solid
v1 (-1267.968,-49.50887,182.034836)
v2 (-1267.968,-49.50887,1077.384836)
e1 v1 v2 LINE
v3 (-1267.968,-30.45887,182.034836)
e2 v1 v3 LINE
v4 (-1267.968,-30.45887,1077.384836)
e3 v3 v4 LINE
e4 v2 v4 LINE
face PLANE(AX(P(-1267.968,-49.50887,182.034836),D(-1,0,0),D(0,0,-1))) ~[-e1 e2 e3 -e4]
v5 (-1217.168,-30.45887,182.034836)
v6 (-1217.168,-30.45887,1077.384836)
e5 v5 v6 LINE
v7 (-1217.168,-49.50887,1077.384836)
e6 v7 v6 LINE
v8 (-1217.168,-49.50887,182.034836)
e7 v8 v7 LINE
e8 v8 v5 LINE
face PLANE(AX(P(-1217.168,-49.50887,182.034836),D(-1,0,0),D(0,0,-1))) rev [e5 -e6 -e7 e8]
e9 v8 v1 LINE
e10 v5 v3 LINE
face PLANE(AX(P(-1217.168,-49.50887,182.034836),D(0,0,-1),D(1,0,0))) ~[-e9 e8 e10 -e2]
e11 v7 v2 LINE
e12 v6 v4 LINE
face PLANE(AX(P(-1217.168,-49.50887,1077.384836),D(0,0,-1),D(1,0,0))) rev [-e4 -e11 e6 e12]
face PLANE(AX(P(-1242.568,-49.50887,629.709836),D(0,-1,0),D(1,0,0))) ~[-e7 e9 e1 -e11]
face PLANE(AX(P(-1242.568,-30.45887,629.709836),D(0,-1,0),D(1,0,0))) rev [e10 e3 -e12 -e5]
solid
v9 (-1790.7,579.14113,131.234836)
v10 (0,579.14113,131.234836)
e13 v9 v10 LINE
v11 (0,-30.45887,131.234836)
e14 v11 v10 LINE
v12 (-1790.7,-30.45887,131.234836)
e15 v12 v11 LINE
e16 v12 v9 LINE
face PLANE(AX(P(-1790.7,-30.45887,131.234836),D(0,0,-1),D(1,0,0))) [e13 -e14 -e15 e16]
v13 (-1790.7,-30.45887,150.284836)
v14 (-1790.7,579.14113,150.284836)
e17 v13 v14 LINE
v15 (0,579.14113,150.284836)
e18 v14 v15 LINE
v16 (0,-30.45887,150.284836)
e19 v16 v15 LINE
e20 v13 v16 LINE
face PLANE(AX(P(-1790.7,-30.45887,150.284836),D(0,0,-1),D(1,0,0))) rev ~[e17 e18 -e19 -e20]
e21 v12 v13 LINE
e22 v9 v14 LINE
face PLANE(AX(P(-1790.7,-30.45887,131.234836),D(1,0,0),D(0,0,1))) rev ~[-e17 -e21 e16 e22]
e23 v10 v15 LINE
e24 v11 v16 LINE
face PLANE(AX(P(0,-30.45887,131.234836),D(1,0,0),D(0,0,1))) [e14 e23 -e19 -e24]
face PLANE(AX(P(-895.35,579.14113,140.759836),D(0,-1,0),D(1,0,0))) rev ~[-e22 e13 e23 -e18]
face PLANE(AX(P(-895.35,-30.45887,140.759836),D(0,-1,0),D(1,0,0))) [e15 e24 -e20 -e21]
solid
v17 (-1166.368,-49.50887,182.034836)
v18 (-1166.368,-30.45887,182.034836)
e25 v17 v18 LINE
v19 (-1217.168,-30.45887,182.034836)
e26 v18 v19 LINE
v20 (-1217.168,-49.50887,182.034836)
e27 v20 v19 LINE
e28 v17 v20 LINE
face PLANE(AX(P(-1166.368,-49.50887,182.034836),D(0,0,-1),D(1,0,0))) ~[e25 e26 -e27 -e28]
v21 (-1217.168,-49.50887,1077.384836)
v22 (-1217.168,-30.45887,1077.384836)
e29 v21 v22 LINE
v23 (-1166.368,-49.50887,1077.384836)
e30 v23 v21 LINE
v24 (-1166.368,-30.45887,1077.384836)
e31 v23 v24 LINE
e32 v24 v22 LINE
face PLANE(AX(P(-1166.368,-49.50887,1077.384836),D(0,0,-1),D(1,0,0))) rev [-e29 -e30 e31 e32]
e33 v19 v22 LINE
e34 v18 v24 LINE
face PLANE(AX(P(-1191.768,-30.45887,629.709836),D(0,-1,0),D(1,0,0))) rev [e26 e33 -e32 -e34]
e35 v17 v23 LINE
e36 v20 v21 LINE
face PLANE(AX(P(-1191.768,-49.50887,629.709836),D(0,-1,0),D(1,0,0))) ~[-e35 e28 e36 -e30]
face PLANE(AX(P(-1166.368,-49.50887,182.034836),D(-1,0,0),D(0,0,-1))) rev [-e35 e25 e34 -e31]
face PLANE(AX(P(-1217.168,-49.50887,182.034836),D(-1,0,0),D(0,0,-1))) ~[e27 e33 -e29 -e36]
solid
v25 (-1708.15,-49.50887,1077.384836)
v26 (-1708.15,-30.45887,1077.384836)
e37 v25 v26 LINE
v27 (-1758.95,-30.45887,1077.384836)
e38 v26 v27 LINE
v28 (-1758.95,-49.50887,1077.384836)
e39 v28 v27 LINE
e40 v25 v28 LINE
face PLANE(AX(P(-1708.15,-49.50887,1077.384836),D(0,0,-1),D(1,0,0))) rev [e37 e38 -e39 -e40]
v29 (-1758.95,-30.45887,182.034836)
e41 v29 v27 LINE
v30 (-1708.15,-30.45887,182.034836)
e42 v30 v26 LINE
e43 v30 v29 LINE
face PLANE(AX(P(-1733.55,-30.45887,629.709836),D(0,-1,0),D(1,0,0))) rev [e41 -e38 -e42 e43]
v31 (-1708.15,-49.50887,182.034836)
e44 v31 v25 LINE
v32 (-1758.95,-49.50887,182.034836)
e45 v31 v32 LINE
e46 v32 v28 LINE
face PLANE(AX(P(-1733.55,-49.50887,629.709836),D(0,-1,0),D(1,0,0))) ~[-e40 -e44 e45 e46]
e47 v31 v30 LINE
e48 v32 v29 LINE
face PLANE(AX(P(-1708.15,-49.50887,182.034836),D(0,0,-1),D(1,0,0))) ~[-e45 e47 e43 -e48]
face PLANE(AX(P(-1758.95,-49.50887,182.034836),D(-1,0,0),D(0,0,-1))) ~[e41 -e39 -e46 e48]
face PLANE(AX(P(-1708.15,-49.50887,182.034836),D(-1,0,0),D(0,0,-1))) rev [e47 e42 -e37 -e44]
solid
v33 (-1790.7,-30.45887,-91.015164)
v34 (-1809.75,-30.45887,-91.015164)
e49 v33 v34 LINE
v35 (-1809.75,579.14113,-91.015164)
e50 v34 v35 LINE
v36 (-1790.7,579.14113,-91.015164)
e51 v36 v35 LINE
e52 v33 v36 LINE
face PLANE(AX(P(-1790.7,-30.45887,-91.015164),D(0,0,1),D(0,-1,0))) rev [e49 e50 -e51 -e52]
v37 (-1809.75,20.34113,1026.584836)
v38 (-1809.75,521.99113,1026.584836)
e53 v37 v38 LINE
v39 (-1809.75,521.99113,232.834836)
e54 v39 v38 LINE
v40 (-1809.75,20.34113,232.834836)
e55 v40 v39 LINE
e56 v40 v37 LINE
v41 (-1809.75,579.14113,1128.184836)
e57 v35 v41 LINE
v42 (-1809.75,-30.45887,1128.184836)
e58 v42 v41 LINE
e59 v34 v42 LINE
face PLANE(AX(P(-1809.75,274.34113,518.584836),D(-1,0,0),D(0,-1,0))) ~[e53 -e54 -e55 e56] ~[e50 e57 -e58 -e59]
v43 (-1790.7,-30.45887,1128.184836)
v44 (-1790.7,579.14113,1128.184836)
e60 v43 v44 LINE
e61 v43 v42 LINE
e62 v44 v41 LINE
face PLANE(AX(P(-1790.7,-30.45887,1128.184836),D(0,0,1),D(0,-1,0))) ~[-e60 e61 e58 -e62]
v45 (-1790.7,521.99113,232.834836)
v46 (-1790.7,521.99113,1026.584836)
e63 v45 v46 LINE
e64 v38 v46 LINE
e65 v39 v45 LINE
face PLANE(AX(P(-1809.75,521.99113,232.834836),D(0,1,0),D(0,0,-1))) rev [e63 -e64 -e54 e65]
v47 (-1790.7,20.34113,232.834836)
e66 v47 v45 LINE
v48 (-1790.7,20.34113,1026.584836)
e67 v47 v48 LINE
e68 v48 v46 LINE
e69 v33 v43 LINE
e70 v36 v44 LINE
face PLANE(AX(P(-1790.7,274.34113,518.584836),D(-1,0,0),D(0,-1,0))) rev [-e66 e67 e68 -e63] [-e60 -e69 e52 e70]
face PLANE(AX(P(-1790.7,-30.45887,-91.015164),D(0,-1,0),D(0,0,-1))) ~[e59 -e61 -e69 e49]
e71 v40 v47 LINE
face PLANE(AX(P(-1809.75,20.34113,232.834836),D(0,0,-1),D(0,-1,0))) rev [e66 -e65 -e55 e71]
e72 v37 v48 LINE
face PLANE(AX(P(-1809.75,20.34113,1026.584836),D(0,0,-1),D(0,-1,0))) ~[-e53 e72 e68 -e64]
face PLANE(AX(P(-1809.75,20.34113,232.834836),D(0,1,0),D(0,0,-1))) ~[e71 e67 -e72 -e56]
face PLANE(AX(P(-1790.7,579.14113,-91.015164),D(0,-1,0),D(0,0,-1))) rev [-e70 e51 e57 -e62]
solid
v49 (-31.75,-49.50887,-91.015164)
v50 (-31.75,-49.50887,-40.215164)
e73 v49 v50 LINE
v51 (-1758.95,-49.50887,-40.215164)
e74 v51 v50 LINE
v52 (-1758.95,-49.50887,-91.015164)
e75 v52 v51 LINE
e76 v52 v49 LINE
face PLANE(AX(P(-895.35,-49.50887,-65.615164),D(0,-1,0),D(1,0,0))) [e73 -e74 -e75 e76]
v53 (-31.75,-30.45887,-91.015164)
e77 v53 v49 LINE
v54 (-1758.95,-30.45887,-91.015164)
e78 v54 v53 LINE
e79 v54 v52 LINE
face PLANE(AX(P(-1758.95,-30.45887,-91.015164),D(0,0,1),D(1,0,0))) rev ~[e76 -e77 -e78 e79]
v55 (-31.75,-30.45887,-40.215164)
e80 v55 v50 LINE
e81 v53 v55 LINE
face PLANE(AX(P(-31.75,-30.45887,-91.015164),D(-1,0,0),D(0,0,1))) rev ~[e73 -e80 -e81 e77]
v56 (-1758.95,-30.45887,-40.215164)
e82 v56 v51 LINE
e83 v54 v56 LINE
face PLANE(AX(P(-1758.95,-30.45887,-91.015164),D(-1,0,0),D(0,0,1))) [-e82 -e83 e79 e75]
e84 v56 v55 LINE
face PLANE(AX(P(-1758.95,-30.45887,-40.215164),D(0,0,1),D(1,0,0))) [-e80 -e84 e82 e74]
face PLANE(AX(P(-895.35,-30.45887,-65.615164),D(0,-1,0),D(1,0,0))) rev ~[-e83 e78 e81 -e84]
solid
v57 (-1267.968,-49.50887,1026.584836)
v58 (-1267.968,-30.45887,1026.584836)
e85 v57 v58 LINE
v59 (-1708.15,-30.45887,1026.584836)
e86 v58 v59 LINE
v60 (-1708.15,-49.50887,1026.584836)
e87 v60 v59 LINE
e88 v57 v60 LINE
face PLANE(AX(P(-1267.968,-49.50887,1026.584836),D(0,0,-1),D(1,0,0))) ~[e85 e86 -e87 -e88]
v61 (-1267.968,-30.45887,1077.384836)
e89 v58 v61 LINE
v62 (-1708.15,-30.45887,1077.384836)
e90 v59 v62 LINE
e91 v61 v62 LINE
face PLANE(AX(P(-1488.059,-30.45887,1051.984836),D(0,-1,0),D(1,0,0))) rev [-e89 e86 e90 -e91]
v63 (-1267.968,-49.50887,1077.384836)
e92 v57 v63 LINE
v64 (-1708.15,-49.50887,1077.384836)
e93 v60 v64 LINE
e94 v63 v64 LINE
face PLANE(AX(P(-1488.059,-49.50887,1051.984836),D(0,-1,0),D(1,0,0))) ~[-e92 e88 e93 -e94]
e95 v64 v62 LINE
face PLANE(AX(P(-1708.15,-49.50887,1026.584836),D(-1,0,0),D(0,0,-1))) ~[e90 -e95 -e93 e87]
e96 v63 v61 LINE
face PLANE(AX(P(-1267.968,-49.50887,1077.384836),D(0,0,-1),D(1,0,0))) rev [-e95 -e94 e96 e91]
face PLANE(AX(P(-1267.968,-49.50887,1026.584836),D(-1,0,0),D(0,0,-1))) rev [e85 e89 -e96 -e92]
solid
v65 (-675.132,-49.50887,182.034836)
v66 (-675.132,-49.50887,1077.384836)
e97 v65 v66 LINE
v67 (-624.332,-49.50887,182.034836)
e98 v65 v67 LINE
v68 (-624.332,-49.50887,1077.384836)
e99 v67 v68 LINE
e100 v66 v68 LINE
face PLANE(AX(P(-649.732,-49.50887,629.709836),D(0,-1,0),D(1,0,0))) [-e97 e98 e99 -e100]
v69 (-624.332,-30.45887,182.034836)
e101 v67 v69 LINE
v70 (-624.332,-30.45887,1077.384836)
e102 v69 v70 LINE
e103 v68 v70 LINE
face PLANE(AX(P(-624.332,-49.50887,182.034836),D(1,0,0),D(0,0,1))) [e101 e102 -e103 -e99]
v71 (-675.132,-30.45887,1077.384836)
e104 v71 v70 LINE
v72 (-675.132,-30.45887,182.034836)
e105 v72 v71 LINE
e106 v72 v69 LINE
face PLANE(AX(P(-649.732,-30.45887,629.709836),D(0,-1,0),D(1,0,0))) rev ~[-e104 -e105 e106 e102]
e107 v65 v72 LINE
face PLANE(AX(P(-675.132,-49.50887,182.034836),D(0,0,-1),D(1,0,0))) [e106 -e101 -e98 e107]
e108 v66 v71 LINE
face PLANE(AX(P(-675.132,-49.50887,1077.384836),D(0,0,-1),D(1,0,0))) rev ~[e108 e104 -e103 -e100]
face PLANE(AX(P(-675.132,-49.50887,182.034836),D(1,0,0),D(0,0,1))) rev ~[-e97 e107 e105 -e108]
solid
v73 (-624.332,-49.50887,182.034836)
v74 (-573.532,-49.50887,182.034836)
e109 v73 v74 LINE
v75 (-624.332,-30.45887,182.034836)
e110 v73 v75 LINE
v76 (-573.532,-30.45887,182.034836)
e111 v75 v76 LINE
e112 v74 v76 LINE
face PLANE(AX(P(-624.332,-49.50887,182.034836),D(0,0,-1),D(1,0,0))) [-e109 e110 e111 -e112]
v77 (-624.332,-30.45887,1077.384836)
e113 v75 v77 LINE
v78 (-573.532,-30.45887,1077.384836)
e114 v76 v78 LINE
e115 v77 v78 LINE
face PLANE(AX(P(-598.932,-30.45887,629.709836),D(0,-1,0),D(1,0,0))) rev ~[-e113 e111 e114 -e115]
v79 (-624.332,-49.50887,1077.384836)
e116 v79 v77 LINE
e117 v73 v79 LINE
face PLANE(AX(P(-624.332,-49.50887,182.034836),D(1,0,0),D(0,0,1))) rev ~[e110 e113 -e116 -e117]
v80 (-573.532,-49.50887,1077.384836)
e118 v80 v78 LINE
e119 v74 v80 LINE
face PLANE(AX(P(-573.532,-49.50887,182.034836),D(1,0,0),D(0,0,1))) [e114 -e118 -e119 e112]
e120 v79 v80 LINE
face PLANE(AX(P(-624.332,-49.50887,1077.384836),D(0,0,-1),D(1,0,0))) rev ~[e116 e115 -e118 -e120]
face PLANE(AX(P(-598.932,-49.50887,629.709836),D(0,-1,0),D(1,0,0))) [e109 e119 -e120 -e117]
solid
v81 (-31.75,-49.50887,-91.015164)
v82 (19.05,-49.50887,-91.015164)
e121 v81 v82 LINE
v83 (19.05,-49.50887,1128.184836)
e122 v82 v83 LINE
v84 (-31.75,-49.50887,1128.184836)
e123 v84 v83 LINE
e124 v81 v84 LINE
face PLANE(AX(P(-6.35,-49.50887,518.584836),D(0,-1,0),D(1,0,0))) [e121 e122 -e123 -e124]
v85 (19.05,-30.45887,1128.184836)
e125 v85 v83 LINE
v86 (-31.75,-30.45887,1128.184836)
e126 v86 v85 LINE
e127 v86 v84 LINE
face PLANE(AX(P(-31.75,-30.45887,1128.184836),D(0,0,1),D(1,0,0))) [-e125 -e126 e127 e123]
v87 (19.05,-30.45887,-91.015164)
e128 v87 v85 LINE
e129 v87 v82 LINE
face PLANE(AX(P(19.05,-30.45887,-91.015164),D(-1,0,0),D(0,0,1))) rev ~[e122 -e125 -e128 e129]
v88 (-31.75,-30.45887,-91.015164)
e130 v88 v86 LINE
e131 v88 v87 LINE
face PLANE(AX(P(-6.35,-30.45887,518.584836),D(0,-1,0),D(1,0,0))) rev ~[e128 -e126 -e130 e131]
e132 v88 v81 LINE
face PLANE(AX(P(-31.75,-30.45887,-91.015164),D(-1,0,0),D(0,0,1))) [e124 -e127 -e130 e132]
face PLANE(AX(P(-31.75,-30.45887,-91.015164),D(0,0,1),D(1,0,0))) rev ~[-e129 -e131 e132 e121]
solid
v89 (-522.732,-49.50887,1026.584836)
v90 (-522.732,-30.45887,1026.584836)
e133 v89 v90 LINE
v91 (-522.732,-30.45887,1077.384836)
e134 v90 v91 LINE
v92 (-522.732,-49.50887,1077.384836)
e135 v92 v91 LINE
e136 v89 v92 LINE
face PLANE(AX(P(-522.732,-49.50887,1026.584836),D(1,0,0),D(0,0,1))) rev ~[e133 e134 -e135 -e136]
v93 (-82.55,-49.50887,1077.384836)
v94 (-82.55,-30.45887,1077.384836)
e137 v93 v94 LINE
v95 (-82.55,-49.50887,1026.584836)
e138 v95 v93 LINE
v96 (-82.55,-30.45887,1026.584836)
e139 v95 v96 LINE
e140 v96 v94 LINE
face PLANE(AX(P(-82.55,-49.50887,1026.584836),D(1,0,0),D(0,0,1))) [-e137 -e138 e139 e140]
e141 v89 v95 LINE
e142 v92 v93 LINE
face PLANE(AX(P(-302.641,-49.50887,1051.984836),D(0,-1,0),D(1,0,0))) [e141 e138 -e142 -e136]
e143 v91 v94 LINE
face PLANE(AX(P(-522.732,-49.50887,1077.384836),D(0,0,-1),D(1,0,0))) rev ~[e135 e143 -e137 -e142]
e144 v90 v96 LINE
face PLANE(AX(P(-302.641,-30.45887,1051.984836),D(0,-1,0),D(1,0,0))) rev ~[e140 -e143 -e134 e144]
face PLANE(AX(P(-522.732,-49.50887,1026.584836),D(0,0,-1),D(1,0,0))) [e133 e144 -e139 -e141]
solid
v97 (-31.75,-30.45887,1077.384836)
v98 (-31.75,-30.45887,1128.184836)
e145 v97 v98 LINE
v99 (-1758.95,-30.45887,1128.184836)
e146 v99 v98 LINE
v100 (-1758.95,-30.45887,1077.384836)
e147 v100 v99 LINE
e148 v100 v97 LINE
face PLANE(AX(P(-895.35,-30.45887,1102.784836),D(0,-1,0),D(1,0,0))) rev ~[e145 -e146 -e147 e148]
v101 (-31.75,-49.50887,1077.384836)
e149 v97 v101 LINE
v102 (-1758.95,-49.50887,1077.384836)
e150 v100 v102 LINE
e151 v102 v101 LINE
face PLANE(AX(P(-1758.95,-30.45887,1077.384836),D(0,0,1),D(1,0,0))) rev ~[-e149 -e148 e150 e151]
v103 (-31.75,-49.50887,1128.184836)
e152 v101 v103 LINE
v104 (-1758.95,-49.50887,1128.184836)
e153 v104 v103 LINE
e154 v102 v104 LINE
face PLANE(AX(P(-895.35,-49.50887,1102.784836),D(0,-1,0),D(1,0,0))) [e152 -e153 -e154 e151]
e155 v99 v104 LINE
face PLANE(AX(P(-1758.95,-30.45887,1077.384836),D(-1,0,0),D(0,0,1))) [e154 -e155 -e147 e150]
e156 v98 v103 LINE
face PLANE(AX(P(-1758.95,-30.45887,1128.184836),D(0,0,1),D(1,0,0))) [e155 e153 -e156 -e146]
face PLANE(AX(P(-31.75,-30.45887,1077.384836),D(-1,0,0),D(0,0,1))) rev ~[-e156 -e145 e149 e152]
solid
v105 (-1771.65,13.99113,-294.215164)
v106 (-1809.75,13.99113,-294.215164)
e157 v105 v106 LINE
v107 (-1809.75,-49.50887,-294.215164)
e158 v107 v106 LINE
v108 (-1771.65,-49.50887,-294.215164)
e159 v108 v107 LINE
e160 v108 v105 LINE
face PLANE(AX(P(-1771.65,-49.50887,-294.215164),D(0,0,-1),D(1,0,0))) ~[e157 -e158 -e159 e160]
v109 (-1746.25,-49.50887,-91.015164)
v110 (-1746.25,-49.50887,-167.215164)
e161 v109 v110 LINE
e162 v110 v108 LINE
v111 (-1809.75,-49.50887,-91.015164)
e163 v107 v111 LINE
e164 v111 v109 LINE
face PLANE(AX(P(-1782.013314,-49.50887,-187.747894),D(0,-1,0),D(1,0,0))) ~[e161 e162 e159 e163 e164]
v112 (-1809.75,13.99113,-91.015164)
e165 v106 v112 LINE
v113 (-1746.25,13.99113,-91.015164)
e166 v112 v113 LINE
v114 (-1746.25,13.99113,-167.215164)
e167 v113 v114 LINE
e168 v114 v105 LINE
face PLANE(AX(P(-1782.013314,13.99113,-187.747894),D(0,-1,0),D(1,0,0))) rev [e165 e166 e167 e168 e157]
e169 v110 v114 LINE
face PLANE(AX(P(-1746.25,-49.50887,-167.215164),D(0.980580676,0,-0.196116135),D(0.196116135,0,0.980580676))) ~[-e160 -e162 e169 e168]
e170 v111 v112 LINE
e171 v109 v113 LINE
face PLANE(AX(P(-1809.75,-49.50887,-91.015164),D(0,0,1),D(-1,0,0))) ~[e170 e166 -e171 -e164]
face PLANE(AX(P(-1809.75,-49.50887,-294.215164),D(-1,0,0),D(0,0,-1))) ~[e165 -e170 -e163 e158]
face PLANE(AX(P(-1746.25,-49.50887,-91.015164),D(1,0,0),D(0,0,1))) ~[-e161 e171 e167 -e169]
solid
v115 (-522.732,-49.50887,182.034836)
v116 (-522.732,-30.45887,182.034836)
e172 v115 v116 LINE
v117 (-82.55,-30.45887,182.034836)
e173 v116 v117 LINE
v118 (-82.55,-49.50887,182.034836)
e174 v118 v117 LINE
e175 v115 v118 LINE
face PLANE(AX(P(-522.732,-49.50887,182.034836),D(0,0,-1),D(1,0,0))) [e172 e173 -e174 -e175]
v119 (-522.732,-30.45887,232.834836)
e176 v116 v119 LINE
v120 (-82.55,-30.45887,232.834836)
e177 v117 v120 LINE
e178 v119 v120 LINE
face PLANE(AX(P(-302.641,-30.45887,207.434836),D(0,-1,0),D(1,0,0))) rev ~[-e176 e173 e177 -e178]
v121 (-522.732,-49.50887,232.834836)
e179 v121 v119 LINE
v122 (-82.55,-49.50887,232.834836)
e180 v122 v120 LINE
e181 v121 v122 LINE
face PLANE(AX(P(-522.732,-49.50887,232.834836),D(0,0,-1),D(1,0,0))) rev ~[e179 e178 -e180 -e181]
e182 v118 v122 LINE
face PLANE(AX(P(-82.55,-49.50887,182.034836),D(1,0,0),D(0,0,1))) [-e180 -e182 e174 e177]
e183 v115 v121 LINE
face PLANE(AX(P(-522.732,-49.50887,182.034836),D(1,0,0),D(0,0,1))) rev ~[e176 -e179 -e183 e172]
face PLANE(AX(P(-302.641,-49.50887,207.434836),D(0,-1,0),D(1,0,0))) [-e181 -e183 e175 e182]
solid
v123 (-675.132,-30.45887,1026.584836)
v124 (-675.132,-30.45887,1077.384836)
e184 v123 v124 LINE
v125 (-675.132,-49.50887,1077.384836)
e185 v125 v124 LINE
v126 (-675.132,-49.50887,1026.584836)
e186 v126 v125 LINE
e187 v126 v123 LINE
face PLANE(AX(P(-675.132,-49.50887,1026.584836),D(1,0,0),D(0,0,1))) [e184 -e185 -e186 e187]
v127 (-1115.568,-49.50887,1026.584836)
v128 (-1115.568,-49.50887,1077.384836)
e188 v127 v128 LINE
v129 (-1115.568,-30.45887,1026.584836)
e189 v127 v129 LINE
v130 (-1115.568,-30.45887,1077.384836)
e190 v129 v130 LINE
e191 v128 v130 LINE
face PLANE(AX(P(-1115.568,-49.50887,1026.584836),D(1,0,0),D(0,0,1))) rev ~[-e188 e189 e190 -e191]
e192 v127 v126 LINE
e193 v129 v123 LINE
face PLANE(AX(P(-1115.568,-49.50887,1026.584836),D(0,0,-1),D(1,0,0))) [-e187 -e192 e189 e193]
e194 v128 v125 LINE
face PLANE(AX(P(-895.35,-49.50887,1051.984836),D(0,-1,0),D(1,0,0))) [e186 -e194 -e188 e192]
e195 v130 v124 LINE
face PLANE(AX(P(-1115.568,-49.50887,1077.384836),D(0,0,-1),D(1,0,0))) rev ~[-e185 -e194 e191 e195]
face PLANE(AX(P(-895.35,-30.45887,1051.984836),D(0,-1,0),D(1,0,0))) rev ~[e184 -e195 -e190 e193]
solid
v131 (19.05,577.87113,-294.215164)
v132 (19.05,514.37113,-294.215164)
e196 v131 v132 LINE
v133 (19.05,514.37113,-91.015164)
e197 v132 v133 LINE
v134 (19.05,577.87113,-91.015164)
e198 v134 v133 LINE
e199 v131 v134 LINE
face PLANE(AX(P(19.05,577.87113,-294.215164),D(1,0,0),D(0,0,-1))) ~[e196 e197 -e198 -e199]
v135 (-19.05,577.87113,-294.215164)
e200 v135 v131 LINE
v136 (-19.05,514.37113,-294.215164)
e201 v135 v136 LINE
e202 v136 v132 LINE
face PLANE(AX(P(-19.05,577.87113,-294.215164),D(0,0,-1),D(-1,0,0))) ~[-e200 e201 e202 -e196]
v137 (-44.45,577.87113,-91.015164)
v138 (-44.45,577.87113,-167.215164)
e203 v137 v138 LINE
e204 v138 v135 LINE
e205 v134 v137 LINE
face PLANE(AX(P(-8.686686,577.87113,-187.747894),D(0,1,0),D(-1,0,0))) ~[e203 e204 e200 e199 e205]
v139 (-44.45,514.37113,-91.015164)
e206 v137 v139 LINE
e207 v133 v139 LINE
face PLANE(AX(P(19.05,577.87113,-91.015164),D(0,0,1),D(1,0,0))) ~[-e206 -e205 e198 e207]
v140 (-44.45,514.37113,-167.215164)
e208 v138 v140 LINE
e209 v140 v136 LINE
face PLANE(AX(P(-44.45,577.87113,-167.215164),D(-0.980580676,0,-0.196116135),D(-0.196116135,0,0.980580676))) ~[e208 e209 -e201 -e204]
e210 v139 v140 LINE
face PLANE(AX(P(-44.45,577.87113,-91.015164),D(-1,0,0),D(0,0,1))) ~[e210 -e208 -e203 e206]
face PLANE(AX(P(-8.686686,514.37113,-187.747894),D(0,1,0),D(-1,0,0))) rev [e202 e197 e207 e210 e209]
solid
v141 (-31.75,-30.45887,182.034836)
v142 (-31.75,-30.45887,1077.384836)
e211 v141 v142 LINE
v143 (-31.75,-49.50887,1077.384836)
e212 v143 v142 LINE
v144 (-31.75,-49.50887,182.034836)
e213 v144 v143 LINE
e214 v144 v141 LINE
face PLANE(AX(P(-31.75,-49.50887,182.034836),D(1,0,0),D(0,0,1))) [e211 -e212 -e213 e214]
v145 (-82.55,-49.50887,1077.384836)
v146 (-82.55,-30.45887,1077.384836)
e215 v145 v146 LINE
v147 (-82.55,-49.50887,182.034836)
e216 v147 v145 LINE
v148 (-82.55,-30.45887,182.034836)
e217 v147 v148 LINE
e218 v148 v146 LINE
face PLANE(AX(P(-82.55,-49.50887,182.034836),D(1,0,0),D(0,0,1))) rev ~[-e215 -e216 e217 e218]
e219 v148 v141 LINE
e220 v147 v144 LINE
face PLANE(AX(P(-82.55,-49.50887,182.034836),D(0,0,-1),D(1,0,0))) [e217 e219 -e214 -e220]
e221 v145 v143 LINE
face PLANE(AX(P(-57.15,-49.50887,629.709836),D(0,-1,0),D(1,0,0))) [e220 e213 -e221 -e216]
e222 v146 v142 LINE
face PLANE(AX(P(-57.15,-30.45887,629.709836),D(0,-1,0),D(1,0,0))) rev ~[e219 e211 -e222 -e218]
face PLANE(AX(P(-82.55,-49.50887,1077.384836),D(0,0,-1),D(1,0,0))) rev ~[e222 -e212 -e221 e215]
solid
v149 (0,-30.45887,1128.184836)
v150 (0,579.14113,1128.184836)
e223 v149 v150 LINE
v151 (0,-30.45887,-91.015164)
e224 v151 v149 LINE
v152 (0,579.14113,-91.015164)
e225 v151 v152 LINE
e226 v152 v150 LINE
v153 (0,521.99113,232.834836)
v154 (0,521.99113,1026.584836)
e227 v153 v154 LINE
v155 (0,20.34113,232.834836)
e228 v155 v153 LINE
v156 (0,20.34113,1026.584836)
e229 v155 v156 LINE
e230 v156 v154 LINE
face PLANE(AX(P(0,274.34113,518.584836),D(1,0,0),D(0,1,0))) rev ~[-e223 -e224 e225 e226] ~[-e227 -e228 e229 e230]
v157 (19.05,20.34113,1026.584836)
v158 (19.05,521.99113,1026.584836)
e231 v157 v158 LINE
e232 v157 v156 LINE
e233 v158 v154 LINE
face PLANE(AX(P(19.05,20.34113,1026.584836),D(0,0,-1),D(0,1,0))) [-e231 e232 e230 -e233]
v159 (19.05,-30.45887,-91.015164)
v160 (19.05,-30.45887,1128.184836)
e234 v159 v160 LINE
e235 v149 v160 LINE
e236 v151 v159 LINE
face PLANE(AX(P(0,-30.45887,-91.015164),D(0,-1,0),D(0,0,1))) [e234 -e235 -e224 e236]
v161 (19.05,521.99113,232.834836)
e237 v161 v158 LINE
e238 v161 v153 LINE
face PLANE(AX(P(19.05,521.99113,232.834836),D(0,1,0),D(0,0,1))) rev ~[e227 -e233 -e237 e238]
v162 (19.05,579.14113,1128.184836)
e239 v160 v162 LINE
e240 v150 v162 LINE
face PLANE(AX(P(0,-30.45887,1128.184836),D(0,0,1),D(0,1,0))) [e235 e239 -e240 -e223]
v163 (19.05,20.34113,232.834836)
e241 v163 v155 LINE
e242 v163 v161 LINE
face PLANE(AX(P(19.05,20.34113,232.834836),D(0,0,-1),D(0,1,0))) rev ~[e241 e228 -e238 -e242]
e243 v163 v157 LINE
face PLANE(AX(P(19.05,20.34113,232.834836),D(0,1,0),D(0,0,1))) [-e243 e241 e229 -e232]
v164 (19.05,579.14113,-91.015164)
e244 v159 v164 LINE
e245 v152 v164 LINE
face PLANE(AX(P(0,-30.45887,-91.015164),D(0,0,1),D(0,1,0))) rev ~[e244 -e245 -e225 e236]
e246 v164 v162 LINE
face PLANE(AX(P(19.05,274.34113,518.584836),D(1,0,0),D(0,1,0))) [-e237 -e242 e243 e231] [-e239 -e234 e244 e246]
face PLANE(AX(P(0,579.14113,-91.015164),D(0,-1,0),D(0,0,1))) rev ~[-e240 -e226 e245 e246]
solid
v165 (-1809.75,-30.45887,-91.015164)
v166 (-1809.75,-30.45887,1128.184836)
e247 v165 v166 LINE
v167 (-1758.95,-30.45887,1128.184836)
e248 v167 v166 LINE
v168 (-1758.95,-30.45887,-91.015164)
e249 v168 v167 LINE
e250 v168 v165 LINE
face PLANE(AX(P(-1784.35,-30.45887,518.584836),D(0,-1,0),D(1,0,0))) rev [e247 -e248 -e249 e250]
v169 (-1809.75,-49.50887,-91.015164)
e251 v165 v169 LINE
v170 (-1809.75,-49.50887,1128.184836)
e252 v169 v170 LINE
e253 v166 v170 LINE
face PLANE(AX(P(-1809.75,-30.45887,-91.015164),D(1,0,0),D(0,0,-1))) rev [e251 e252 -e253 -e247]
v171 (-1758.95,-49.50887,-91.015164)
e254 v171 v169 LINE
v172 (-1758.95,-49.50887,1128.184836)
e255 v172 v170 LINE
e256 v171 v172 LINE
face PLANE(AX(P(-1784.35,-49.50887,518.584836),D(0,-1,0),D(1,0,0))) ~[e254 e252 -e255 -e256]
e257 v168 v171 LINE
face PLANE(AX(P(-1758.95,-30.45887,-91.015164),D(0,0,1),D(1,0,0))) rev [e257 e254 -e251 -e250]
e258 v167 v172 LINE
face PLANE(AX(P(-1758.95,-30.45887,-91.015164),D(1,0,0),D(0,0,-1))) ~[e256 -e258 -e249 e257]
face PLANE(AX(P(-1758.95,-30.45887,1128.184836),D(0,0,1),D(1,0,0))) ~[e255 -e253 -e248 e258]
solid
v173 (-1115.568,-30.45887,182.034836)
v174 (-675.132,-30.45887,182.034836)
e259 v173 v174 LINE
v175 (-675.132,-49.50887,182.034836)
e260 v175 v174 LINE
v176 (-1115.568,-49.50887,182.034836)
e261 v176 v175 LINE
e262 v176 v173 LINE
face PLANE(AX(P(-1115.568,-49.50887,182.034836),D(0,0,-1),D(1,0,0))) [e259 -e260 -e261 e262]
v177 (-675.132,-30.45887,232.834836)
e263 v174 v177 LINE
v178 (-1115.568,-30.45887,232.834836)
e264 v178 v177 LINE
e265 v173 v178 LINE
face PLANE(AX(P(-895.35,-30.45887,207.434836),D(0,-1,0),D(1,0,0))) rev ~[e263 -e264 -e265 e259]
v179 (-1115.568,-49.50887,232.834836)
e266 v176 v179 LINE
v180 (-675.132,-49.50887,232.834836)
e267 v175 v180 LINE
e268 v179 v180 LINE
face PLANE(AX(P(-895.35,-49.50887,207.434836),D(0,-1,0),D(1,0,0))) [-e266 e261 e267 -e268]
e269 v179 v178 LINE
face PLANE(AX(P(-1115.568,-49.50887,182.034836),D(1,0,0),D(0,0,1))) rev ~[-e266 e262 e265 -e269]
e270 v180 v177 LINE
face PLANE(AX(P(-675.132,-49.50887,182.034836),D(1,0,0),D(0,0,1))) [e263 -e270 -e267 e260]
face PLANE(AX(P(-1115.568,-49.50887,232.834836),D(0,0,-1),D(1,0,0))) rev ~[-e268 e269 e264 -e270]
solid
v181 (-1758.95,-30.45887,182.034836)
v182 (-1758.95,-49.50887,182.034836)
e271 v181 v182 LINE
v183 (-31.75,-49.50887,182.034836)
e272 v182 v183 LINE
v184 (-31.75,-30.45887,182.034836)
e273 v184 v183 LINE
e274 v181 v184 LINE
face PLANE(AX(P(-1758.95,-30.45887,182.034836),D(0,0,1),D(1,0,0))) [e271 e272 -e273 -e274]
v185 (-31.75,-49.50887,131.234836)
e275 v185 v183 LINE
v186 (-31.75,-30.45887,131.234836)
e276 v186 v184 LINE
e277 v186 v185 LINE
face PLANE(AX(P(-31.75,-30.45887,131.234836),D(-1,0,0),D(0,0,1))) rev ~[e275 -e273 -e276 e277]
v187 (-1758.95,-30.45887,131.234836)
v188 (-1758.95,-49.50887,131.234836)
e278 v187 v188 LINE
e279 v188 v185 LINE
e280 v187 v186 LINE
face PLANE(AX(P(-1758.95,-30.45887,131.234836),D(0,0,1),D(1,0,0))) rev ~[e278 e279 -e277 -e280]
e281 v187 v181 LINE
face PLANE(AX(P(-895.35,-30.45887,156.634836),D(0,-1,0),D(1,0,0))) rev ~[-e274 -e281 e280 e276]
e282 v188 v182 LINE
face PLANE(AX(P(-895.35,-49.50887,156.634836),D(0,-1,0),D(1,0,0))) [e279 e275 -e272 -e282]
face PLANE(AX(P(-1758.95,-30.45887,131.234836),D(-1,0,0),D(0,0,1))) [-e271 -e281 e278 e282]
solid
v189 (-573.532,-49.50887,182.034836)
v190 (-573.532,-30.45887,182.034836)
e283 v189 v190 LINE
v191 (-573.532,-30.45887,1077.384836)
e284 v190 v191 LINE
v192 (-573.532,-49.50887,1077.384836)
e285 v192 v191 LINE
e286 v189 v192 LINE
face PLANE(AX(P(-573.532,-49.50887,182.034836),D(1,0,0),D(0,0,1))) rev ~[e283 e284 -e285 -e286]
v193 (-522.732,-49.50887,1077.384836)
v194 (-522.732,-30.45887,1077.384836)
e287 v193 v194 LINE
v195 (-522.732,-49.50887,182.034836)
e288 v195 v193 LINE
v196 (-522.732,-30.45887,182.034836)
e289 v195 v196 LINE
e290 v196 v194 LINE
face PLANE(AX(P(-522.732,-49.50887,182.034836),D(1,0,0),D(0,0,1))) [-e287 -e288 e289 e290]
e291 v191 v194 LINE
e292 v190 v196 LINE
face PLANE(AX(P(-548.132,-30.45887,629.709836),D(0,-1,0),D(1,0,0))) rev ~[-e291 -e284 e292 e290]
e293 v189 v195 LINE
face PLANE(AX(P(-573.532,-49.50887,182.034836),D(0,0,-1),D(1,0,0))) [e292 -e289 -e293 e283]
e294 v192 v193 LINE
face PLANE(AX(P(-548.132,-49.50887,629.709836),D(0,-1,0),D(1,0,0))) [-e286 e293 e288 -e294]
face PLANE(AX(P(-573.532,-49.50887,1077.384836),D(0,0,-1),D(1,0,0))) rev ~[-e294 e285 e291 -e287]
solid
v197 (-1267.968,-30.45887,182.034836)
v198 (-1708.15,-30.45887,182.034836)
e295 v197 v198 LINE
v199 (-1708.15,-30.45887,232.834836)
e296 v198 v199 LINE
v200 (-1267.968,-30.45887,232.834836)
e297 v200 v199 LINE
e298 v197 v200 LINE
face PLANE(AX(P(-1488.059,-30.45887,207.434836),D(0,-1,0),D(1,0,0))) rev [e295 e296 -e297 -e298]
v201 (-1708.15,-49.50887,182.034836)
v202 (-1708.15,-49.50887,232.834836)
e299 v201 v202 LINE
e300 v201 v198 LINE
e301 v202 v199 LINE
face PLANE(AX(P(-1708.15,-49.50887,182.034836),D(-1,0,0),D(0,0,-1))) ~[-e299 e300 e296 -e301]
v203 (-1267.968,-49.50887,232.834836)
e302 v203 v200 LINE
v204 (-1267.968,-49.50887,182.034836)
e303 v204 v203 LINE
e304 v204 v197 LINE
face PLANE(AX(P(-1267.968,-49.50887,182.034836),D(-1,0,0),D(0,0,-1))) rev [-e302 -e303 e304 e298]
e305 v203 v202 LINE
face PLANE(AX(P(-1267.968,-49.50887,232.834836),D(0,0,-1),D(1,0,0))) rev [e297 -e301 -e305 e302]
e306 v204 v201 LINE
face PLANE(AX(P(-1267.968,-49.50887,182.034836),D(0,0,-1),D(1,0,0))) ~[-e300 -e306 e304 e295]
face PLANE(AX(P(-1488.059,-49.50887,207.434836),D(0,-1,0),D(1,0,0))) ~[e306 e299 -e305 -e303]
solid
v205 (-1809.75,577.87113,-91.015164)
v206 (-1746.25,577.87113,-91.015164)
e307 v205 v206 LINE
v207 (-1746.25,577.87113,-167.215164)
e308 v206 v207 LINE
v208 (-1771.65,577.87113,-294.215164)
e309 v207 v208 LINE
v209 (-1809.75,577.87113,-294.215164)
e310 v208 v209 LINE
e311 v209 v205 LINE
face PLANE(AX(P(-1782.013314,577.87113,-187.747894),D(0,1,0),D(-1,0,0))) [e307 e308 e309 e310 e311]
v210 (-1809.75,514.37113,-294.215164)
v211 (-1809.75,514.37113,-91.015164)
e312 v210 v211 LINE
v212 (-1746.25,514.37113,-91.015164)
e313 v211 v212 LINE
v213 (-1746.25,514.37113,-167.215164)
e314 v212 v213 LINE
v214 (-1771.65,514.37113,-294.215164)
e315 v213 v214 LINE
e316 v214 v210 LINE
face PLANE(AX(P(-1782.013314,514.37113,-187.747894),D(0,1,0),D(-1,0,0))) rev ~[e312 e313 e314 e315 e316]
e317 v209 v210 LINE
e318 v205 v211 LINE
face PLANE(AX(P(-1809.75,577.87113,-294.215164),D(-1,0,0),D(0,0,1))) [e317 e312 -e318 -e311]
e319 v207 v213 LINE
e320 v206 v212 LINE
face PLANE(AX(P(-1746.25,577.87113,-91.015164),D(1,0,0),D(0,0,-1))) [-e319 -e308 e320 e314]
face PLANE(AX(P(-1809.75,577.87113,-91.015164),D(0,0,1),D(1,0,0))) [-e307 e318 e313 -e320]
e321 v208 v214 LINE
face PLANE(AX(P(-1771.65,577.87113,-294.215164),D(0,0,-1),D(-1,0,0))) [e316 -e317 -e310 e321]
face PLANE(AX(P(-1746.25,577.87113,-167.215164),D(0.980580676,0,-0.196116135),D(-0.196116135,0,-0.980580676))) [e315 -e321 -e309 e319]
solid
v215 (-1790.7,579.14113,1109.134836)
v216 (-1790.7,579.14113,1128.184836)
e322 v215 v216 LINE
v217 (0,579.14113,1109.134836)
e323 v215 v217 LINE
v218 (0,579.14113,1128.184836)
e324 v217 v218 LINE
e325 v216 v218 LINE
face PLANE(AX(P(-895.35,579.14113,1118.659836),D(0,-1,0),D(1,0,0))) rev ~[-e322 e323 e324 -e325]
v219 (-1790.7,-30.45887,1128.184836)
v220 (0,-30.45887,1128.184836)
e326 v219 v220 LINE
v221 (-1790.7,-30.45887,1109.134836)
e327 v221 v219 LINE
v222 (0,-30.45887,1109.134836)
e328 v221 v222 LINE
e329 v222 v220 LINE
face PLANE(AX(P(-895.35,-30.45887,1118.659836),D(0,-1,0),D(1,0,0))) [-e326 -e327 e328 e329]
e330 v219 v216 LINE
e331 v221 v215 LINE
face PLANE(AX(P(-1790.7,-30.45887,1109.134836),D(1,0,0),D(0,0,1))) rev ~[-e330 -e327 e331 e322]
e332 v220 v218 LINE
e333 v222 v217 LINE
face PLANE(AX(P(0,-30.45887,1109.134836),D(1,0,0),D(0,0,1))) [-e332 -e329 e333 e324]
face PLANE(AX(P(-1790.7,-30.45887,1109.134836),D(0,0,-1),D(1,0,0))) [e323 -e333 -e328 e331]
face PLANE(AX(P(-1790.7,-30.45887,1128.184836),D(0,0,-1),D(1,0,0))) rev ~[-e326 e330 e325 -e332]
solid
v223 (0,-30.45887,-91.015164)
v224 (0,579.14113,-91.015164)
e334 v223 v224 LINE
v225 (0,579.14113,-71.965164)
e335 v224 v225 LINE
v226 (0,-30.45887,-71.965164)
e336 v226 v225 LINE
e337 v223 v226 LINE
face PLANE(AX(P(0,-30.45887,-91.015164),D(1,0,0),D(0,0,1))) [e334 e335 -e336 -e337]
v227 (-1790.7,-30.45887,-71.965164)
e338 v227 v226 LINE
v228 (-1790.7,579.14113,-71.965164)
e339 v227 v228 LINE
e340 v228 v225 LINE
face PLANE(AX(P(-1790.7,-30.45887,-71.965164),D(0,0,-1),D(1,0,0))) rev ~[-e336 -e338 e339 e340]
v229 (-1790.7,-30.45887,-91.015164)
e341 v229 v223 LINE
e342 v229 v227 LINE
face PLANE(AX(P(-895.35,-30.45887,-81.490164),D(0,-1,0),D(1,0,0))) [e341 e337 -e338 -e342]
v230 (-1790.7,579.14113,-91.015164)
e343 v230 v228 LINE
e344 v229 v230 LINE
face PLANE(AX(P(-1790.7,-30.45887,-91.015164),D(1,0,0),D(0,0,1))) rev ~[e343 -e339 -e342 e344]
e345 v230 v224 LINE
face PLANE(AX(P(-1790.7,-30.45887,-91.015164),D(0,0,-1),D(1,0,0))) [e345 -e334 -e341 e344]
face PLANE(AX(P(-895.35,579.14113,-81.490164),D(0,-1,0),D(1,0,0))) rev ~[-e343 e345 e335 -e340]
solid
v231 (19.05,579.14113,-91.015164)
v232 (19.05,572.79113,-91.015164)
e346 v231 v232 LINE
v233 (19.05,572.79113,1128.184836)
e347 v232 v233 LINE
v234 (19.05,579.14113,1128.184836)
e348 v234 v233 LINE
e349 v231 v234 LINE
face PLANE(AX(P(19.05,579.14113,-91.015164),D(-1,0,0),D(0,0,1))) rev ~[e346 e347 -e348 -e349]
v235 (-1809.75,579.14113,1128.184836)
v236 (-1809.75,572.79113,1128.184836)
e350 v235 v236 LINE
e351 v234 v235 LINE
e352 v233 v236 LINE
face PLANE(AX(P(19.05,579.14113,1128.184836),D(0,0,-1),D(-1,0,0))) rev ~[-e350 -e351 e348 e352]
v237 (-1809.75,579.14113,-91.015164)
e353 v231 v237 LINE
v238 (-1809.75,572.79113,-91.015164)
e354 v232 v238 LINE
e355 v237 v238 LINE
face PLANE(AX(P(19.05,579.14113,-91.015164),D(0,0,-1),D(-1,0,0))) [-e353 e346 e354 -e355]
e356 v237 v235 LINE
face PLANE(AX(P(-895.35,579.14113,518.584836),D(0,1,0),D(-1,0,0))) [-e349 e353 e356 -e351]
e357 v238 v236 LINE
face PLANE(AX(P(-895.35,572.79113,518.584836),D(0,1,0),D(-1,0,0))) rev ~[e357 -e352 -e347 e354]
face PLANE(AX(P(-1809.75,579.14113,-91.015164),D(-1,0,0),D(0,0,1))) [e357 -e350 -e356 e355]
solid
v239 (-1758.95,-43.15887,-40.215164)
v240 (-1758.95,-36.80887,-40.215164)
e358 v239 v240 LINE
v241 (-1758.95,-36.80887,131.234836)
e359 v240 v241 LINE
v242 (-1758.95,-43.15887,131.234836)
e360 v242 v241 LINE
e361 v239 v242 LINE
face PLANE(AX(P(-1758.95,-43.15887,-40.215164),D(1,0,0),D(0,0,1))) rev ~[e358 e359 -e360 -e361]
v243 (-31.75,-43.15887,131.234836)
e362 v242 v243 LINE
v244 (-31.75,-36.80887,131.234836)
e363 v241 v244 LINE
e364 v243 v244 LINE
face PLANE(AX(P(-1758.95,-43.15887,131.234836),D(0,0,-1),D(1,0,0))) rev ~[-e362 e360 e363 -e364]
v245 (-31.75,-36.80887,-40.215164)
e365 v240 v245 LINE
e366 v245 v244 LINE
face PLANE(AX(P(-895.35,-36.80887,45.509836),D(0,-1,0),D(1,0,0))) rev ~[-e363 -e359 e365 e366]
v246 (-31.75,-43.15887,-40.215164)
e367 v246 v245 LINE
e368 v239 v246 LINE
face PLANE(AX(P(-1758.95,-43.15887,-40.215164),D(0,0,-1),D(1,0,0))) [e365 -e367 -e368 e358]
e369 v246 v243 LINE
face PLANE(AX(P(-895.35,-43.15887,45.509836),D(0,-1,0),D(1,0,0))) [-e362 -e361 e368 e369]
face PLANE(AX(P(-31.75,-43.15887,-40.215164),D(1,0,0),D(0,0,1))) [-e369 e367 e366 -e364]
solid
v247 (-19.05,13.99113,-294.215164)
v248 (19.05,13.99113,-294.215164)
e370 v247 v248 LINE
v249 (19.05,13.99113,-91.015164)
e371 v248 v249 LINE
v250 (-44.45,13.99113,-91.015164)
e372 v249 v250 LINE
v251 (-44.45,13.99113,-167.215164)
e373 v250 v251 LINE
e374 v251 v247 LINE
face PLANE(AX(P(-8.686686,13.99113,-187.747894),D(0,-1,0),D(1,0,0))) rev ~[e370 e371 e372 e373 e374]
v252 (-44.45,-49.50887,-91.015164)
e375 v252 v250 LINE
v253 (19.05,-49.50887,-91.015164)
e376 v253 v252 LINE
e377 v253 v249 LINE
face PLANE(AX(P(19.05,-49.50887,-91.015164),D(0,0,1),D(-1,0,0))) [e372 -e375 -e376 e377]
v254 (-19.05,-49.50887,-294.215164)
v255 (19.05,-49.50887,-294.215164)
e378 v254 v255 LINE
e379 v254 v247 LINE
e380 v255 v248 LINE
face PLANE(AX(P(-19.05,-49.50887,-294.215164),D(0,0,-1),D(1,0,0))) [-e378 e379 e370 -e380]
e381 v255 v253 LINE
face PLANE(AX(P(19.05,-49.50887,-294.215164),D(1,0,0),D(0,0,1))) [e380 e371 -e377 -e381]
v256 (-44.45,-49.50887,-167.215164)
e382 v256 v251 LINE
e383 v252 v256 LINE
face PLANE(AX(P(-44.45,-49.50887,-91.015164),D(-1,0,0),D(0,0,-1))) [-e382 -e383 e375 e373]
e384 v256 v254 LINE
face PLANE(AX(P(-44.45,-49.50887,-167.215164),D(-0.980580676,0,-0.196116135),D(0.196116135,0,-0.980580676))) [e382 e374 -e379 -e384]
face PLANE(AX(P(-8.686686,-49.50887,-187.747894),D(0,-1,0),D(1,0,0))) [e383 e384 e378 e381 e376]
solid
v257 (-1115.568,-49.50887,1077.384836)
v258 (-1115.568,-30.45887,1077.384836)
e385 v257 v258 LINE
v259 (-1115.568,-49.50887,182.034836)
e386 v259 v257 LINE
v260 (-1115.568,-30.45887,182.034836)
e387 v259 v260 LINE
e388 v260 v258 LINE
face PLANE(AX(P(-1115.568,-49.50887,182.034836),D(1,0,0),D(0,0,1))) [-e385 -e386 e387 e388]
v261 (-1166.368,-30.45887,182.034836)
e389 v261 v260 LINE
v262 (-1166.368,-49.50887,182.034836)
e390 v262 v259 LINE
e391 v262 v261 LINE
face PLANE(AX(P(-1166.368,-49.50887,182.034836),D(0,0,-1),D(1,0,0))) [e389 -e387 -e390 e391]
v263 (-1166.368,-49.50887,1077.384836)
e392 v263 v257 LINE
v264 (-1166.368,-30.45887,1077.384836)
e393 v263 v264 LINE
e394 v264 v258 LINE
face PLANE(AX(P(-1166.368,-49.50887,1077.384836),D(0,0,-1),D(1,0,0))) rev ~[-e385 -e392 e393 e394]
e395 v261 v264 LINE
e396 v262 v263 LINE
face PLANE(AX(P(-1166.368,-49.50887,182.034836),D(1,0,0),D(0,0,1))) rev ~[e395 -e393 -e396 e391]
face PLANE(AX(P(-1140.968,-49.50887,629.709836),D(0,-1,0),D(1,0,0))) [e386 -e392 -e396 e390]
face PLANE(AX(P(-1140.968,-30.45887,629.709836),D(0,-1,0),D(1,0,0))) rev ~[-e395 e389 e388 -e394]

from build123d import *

# Parameters (mm, degrees)
F0_W      = 609.6
F0_H      = 1219.2
F1_DEPTH  = 19.05
F2_W      = 501.65
F2_H      = 793.75
F3_DEPTH  = 19.051
F6_W      = 1790.7
F6_H      = 19.05
F7_DEPTH  = 609.6
F8_W      = 1790.7
F8_H      = 19.05
F9_DEPTH  = 609.6
F10_W     = 1790.7
F10_H     = 19.05
F11_DEPTH = 609.6
F12_W     = 50.8
F12_H     = 1219.2
F13_DEPTH = 19.05
F15_W     = 1727.2
F15_H     = 50.8
F16_DEPTH = 19.05
F17_W     = 1727.2
F17_H     = 50.8
F18_DEPTH = 19.05
F19_W     = 1727.2
F19_H     = 50.8
F20_DEPTH = 19.05
F23_W     = 50.8
F23_H     = 895.35
F24_DEPTH = 19.05
F22_W     = 1727.2
F22_H     = 171.45
F26_DEPTH = 6.35
F27_W     = 50.8
F27_H     = 895.35
F28_DEPTH = 19.05
F29_W     = 50.8
F29_H     = 895.35
F30_DEPTH = 19.05
F31_W     = 440.182
F31_H     = 50.8
F32_DEPTH = 19.05
F33_W     = 440.182
F33_H     = 50.8
F34_DEPTH = 19.05
F36_W     = 50.8
F36_H     = 895.35
F37_DEPTH = 19.05
F38_W     = 50.8
F38_H     = 895.35
F39_DEPTH = 19.05
F40_W     = 440.436
F40_H     = 50.8
F41_DEPTH = 19.05
F42_W     = 440.436
F42_H     = 50.8
F43_DEPTH = 19.05
F44_W     = 1828.8
F44_H     = 1219.2
F45_DEPTH = 6.35
F47_DEPTH = 63.5


with BuildPart() as f1:
    # F0 (on Right) → F1 (new body)
    with BuildSketch(Plane.YZ):
        with Locations((274.3411302805, 518.5848358816)):
            Rectangle(F0_W, F0_H)
    extrude(amount=F1_DEPTH)

    # F2 (on face) → F3 (cut, through all)
    with BuildSketch(Plane.YZ.offset(19.05)):
        with Locations((271.1661302805, 629.7098358816)):
            Rectangle(F2_W, F2_H)
    extrude(amount=-F3_DEPTH, mode=Mode.SUBTRACT)


with BuildPart() as f5_1:
    # F5: instance of F1
    add(f1.part.mirror(Plane(origin=(-895.35, 278.0051626517, 390.3437028911), x_dir=(0, 1, 0), z_dir=(1, 0, 0))))


with BuildPart() as f7:
    # F6 (on face) → F7 (new body)
    with BuildSketch(Plane.XZ.offset(30.4588697195)):
        with Locations((-895.35, 1118.6598358816)):
            Rectangle(F6_W, F6_H)
    extrude(amount=-F7_DEPTH)


with BuildPart() as f9:
    # F8 (on face) → F9 (new body)
    with BuildSketch(Plane.XZ.offset(30.4588697195)):
        with Locations((-895.35, -81.4901641184)):
            Rectangle(F8_W, F8_H)
    extrude(amount=-F9_DEPTH)


with BuildPart() as f11:
    # F10 (on face) → F11 (new body)
    with BuildSketch(Plane.XZ.offset(30.4588697195)):
        with Locations((-895.35, 140.7598358816)):
            Rectangle(F10_W, F10_H)
    extrude(amount=-F11_DEPTH)


with BuildPart() as f13:
    # F12 (on face) → F13 (new body)
    with BuildSketch(Plane.XZ.offset(30.4588697195)):
        with Locations((-6.35, 518.5848358816)):
            Rectangle(F12_W, F12_H)
    extrude(amount=F13_DEPTH)


with BuildPart() as f14_1:
    # F14: instance of F13
    add(f13.part.mirror(Plane(origin=(-895.35, 278.0051626517, 390.3437028911), x_dir=(0, 1, 0), z_dir=(1, 0, 0))))


with BuildPart() as f16:
    # F15 (on face) → F16 (new body)
    with BuildSketch(Plane.XZ.offset(30.4588697195)):
        with Locations((-895.35, 1102.7848358816)):
            Rectangle(F15_W, F15_H)
    extrude(amount=F16_DEPTH)


with BuildPart() as f18:
    # F17 (on face) → F18 (new body)
    with BuildSketch(Plane.XZ.offset(30.4588697195)):
        with Locations((-895.35, 156.6348358816)):
            Rectangle(F17_W, F17_H)
    extrude(amount=F18_DEPTH)


with BuildPart() as f20:
    # F19 (on face) → F20 (new body)
    with BuildSketch(Plane.XZ.offset(30.4588697195)):
        with Locations((-895.35, -65.6151641184)):
            Rectangle(F19_W, F19_H)
    extrude(amount=F20_DEPTH)


with BuildPart() as f24:
    # F23 (on face) → F24 (new body)
    with BuildSketch(Plane.XZ.offset(49.5088697195)):
        with Locations((-598.932, 629.7098358816)):
            Rectangle(F23_W, F23_H)
    extrude(amount=-F24_DEPTH)


with BuildPart() as f25_1:
    # F25: instance of F24
    add(f24.part.mirror(Plane(origin=(-895.35, 278.0051626517, 390.3437028911), x_dir=(0, 1, 0), z_dir=(1, 0, 0))))


with BuildPart() as f26:
    # F22 (on offset) → F26 (new body)
    with BuildSketch(Plane.XZ.offset(43.1588697195)):
        with Locations((-895.35, 45.5098358816)):
            Rectangle(F22_W, F22_H)
    extrude(amount=-F26_DEPTH)


with BuildPart() as f28:
    # F27 (on face) → F28 (new body)
    with BuildSketch(Plane.XZ.offset(49.5088697195)):
        with Locations((-57.15, 629.7098358816)):
            Rectangle(F27_W, F27_H)
    extrude(amount=-F28_DEPTH)


with BuildPart() as f30:
    # F29 (on face) → F30 (new body)
    with BuildSketch(Plane.XZ.offset(49.5088697195)):
        with Locations((-548.132, 629.7098358816)):
            Rectangle(F29_W, F29_H)
    extrude(amount=-F30_DEPTH)


with BuildPart() as f32:
    # F31 (on face) → F32 (new body)
    with BuildSketch(Plane.XZ.offset(49.5088697195)):
        with Locations((-302.641, 1051.9848358816)):
            Rectangle(F31_W, F31_H)
    extrude(amount=-F32_DEPTH)


with BuildPart() as f34:
    # F33 (on face) → F34 (new body)
    with BuildSketch(Plane.XZ.offset(49.5088697195)):
        with Locations((-302.641, 207.4348358816)):
            Rectangle(F33_W, F33_H)
    extrude(amount=-F34_DEPTH)


with BuildPart() as f35_1:
    # F35: instance of F30
    add(f30.part.mirror(Plane(origin=(-895.35, 278.0051626517, 390.3437028911), x_dir=(0, 1, 0), z_dir=(1, 0, 0))))


with BuildPart() as f35_2:
    # F35: instance of F32
    add(f32.part.mirror(Plane(origin=(-895.35, 278.0051626517, 390.3437028911), x_dir=(0, 1, 0), z_dir=(1, 0, 0))))


with BuildPart() as f35_3:
    # F35: instance of F28
    add(f28.part.mirror(Plane(origin=(-895.35, 278.0051626517, 390.3437028911), x_dir=(0, 1, 0), z_dir=(1, 0, 0))))


with BuildPart() as f35_4:
    # F35: instance of F34
    add(f34.part.mirror(Plane(origin=(-895.35, 278.0051626517, 390.3437028911), x_dir=(0, 1, 0), z_dir=(1, 0, 0))))


with BuildPart() as f37:
    # F36 (on face) → F37 (new body)
    with BuildSketch(Plane.XZ.offset(49.5088697195)):
        with Locations((-649.732, 629.7098358816)):
            Rectangle(F36_W, F36_H)
    extrude(amount=-F37_DEPTH)


with BuildPart() as f39:
    # F38 (on face) → F39 (new body)
    with BuildSketch(Plane.XZ.offset(49.5088697195)):
        with Locations((-1140.968, 629.7098358816)):
            Rectangle(F38_W, F38_H)
    extrude(amount=-F39_DEPTH)


with BuildPart() as f41:
    # F40 (on face) → F41 (new body)
    with BuildSketch(Plane.XZ.offset(49.5088697195)):
        with Locations((-895.35, 1051.9848358816)):
            Rectangle(F40_W, F40_H)
    extrude(amount=-F41_DEPTH)


with BuildPart() as f43:
    # F42 (on face) → F43 (new body)
    with BuildSketch(Plane.XZ.offset(49.5088697195)):
        with Locations((-895.35, 207.4348358816)):
            Rectangle(F42_W, F42_H)
    extrude(amount=-F43_DEPTH)


with BuildPart() as f45:
    # F44 (on face) → F45 (new body)
    with BuildSketch(Plane(origin=(0, 579.1411302805, 0), x_dir=(-1, 0, 0), z_dir=(0, 1, 0))):
        with Locations((895.35, 518.5848358816)):
            Rectangle(F44_W, F44_H)
    extrude(amount=-F45_DEPTH)


with BuildPart() as f47:
    # F46 (on face) → F47 (new body)
    with BuildSketch(Plane.XZ.offset(49.5088697195)):
        Polygon((19.05, -294.2151641184), (19.05, -91.0151641184), (-44.45, -91.0151641184), (-44.45, -167.2151641184), (-19.05, -294.2151641184), align=None)
    extrude(amount=-F47_DEPTH)


with BuildPart() as f48_1:
    # F48: instance of F47
    add(f47.part.mirror(Plane(origin=(-895.35, 278.0051626517, 390.3437028911), x_dir=(0, 1, 0), z_dir=(1, 0, 0))))


with BuildPart() as f50_1:
    # F50: instance of F48_1
    add(f48_1.part.mirror(Plane(origin=(-895.35, 264.1811302805, 1118.6598358816), x_dir=(1, 0, 0), z_dir=(0, 1, 0))))


with BuildPart() as f50_2:
    # F50: instance of F47
    add(f47.part.mirror(Plane(origin=(-895.35, 264.1811302805, 1118.6598358816), x_dir=(1, 0, 0), z_dir=(0, 1, 0))))


solid = Compound([f1.part, f5_1.part, f7.part, f9.part, f11.part, f13.part, f14_1.part, f16.part, f18.part, f20.part, f24.part, f25_1.part, f26.part, f28.part, f30.part, f32.part, f34.part, f35_1.part, f35_2.part, f35_3.part, f35_4.part, f37.part, f39.part, f41.part, f43.part, f45.part, f47.part, f48_1.part, f50_1.part, f50_2.part])
